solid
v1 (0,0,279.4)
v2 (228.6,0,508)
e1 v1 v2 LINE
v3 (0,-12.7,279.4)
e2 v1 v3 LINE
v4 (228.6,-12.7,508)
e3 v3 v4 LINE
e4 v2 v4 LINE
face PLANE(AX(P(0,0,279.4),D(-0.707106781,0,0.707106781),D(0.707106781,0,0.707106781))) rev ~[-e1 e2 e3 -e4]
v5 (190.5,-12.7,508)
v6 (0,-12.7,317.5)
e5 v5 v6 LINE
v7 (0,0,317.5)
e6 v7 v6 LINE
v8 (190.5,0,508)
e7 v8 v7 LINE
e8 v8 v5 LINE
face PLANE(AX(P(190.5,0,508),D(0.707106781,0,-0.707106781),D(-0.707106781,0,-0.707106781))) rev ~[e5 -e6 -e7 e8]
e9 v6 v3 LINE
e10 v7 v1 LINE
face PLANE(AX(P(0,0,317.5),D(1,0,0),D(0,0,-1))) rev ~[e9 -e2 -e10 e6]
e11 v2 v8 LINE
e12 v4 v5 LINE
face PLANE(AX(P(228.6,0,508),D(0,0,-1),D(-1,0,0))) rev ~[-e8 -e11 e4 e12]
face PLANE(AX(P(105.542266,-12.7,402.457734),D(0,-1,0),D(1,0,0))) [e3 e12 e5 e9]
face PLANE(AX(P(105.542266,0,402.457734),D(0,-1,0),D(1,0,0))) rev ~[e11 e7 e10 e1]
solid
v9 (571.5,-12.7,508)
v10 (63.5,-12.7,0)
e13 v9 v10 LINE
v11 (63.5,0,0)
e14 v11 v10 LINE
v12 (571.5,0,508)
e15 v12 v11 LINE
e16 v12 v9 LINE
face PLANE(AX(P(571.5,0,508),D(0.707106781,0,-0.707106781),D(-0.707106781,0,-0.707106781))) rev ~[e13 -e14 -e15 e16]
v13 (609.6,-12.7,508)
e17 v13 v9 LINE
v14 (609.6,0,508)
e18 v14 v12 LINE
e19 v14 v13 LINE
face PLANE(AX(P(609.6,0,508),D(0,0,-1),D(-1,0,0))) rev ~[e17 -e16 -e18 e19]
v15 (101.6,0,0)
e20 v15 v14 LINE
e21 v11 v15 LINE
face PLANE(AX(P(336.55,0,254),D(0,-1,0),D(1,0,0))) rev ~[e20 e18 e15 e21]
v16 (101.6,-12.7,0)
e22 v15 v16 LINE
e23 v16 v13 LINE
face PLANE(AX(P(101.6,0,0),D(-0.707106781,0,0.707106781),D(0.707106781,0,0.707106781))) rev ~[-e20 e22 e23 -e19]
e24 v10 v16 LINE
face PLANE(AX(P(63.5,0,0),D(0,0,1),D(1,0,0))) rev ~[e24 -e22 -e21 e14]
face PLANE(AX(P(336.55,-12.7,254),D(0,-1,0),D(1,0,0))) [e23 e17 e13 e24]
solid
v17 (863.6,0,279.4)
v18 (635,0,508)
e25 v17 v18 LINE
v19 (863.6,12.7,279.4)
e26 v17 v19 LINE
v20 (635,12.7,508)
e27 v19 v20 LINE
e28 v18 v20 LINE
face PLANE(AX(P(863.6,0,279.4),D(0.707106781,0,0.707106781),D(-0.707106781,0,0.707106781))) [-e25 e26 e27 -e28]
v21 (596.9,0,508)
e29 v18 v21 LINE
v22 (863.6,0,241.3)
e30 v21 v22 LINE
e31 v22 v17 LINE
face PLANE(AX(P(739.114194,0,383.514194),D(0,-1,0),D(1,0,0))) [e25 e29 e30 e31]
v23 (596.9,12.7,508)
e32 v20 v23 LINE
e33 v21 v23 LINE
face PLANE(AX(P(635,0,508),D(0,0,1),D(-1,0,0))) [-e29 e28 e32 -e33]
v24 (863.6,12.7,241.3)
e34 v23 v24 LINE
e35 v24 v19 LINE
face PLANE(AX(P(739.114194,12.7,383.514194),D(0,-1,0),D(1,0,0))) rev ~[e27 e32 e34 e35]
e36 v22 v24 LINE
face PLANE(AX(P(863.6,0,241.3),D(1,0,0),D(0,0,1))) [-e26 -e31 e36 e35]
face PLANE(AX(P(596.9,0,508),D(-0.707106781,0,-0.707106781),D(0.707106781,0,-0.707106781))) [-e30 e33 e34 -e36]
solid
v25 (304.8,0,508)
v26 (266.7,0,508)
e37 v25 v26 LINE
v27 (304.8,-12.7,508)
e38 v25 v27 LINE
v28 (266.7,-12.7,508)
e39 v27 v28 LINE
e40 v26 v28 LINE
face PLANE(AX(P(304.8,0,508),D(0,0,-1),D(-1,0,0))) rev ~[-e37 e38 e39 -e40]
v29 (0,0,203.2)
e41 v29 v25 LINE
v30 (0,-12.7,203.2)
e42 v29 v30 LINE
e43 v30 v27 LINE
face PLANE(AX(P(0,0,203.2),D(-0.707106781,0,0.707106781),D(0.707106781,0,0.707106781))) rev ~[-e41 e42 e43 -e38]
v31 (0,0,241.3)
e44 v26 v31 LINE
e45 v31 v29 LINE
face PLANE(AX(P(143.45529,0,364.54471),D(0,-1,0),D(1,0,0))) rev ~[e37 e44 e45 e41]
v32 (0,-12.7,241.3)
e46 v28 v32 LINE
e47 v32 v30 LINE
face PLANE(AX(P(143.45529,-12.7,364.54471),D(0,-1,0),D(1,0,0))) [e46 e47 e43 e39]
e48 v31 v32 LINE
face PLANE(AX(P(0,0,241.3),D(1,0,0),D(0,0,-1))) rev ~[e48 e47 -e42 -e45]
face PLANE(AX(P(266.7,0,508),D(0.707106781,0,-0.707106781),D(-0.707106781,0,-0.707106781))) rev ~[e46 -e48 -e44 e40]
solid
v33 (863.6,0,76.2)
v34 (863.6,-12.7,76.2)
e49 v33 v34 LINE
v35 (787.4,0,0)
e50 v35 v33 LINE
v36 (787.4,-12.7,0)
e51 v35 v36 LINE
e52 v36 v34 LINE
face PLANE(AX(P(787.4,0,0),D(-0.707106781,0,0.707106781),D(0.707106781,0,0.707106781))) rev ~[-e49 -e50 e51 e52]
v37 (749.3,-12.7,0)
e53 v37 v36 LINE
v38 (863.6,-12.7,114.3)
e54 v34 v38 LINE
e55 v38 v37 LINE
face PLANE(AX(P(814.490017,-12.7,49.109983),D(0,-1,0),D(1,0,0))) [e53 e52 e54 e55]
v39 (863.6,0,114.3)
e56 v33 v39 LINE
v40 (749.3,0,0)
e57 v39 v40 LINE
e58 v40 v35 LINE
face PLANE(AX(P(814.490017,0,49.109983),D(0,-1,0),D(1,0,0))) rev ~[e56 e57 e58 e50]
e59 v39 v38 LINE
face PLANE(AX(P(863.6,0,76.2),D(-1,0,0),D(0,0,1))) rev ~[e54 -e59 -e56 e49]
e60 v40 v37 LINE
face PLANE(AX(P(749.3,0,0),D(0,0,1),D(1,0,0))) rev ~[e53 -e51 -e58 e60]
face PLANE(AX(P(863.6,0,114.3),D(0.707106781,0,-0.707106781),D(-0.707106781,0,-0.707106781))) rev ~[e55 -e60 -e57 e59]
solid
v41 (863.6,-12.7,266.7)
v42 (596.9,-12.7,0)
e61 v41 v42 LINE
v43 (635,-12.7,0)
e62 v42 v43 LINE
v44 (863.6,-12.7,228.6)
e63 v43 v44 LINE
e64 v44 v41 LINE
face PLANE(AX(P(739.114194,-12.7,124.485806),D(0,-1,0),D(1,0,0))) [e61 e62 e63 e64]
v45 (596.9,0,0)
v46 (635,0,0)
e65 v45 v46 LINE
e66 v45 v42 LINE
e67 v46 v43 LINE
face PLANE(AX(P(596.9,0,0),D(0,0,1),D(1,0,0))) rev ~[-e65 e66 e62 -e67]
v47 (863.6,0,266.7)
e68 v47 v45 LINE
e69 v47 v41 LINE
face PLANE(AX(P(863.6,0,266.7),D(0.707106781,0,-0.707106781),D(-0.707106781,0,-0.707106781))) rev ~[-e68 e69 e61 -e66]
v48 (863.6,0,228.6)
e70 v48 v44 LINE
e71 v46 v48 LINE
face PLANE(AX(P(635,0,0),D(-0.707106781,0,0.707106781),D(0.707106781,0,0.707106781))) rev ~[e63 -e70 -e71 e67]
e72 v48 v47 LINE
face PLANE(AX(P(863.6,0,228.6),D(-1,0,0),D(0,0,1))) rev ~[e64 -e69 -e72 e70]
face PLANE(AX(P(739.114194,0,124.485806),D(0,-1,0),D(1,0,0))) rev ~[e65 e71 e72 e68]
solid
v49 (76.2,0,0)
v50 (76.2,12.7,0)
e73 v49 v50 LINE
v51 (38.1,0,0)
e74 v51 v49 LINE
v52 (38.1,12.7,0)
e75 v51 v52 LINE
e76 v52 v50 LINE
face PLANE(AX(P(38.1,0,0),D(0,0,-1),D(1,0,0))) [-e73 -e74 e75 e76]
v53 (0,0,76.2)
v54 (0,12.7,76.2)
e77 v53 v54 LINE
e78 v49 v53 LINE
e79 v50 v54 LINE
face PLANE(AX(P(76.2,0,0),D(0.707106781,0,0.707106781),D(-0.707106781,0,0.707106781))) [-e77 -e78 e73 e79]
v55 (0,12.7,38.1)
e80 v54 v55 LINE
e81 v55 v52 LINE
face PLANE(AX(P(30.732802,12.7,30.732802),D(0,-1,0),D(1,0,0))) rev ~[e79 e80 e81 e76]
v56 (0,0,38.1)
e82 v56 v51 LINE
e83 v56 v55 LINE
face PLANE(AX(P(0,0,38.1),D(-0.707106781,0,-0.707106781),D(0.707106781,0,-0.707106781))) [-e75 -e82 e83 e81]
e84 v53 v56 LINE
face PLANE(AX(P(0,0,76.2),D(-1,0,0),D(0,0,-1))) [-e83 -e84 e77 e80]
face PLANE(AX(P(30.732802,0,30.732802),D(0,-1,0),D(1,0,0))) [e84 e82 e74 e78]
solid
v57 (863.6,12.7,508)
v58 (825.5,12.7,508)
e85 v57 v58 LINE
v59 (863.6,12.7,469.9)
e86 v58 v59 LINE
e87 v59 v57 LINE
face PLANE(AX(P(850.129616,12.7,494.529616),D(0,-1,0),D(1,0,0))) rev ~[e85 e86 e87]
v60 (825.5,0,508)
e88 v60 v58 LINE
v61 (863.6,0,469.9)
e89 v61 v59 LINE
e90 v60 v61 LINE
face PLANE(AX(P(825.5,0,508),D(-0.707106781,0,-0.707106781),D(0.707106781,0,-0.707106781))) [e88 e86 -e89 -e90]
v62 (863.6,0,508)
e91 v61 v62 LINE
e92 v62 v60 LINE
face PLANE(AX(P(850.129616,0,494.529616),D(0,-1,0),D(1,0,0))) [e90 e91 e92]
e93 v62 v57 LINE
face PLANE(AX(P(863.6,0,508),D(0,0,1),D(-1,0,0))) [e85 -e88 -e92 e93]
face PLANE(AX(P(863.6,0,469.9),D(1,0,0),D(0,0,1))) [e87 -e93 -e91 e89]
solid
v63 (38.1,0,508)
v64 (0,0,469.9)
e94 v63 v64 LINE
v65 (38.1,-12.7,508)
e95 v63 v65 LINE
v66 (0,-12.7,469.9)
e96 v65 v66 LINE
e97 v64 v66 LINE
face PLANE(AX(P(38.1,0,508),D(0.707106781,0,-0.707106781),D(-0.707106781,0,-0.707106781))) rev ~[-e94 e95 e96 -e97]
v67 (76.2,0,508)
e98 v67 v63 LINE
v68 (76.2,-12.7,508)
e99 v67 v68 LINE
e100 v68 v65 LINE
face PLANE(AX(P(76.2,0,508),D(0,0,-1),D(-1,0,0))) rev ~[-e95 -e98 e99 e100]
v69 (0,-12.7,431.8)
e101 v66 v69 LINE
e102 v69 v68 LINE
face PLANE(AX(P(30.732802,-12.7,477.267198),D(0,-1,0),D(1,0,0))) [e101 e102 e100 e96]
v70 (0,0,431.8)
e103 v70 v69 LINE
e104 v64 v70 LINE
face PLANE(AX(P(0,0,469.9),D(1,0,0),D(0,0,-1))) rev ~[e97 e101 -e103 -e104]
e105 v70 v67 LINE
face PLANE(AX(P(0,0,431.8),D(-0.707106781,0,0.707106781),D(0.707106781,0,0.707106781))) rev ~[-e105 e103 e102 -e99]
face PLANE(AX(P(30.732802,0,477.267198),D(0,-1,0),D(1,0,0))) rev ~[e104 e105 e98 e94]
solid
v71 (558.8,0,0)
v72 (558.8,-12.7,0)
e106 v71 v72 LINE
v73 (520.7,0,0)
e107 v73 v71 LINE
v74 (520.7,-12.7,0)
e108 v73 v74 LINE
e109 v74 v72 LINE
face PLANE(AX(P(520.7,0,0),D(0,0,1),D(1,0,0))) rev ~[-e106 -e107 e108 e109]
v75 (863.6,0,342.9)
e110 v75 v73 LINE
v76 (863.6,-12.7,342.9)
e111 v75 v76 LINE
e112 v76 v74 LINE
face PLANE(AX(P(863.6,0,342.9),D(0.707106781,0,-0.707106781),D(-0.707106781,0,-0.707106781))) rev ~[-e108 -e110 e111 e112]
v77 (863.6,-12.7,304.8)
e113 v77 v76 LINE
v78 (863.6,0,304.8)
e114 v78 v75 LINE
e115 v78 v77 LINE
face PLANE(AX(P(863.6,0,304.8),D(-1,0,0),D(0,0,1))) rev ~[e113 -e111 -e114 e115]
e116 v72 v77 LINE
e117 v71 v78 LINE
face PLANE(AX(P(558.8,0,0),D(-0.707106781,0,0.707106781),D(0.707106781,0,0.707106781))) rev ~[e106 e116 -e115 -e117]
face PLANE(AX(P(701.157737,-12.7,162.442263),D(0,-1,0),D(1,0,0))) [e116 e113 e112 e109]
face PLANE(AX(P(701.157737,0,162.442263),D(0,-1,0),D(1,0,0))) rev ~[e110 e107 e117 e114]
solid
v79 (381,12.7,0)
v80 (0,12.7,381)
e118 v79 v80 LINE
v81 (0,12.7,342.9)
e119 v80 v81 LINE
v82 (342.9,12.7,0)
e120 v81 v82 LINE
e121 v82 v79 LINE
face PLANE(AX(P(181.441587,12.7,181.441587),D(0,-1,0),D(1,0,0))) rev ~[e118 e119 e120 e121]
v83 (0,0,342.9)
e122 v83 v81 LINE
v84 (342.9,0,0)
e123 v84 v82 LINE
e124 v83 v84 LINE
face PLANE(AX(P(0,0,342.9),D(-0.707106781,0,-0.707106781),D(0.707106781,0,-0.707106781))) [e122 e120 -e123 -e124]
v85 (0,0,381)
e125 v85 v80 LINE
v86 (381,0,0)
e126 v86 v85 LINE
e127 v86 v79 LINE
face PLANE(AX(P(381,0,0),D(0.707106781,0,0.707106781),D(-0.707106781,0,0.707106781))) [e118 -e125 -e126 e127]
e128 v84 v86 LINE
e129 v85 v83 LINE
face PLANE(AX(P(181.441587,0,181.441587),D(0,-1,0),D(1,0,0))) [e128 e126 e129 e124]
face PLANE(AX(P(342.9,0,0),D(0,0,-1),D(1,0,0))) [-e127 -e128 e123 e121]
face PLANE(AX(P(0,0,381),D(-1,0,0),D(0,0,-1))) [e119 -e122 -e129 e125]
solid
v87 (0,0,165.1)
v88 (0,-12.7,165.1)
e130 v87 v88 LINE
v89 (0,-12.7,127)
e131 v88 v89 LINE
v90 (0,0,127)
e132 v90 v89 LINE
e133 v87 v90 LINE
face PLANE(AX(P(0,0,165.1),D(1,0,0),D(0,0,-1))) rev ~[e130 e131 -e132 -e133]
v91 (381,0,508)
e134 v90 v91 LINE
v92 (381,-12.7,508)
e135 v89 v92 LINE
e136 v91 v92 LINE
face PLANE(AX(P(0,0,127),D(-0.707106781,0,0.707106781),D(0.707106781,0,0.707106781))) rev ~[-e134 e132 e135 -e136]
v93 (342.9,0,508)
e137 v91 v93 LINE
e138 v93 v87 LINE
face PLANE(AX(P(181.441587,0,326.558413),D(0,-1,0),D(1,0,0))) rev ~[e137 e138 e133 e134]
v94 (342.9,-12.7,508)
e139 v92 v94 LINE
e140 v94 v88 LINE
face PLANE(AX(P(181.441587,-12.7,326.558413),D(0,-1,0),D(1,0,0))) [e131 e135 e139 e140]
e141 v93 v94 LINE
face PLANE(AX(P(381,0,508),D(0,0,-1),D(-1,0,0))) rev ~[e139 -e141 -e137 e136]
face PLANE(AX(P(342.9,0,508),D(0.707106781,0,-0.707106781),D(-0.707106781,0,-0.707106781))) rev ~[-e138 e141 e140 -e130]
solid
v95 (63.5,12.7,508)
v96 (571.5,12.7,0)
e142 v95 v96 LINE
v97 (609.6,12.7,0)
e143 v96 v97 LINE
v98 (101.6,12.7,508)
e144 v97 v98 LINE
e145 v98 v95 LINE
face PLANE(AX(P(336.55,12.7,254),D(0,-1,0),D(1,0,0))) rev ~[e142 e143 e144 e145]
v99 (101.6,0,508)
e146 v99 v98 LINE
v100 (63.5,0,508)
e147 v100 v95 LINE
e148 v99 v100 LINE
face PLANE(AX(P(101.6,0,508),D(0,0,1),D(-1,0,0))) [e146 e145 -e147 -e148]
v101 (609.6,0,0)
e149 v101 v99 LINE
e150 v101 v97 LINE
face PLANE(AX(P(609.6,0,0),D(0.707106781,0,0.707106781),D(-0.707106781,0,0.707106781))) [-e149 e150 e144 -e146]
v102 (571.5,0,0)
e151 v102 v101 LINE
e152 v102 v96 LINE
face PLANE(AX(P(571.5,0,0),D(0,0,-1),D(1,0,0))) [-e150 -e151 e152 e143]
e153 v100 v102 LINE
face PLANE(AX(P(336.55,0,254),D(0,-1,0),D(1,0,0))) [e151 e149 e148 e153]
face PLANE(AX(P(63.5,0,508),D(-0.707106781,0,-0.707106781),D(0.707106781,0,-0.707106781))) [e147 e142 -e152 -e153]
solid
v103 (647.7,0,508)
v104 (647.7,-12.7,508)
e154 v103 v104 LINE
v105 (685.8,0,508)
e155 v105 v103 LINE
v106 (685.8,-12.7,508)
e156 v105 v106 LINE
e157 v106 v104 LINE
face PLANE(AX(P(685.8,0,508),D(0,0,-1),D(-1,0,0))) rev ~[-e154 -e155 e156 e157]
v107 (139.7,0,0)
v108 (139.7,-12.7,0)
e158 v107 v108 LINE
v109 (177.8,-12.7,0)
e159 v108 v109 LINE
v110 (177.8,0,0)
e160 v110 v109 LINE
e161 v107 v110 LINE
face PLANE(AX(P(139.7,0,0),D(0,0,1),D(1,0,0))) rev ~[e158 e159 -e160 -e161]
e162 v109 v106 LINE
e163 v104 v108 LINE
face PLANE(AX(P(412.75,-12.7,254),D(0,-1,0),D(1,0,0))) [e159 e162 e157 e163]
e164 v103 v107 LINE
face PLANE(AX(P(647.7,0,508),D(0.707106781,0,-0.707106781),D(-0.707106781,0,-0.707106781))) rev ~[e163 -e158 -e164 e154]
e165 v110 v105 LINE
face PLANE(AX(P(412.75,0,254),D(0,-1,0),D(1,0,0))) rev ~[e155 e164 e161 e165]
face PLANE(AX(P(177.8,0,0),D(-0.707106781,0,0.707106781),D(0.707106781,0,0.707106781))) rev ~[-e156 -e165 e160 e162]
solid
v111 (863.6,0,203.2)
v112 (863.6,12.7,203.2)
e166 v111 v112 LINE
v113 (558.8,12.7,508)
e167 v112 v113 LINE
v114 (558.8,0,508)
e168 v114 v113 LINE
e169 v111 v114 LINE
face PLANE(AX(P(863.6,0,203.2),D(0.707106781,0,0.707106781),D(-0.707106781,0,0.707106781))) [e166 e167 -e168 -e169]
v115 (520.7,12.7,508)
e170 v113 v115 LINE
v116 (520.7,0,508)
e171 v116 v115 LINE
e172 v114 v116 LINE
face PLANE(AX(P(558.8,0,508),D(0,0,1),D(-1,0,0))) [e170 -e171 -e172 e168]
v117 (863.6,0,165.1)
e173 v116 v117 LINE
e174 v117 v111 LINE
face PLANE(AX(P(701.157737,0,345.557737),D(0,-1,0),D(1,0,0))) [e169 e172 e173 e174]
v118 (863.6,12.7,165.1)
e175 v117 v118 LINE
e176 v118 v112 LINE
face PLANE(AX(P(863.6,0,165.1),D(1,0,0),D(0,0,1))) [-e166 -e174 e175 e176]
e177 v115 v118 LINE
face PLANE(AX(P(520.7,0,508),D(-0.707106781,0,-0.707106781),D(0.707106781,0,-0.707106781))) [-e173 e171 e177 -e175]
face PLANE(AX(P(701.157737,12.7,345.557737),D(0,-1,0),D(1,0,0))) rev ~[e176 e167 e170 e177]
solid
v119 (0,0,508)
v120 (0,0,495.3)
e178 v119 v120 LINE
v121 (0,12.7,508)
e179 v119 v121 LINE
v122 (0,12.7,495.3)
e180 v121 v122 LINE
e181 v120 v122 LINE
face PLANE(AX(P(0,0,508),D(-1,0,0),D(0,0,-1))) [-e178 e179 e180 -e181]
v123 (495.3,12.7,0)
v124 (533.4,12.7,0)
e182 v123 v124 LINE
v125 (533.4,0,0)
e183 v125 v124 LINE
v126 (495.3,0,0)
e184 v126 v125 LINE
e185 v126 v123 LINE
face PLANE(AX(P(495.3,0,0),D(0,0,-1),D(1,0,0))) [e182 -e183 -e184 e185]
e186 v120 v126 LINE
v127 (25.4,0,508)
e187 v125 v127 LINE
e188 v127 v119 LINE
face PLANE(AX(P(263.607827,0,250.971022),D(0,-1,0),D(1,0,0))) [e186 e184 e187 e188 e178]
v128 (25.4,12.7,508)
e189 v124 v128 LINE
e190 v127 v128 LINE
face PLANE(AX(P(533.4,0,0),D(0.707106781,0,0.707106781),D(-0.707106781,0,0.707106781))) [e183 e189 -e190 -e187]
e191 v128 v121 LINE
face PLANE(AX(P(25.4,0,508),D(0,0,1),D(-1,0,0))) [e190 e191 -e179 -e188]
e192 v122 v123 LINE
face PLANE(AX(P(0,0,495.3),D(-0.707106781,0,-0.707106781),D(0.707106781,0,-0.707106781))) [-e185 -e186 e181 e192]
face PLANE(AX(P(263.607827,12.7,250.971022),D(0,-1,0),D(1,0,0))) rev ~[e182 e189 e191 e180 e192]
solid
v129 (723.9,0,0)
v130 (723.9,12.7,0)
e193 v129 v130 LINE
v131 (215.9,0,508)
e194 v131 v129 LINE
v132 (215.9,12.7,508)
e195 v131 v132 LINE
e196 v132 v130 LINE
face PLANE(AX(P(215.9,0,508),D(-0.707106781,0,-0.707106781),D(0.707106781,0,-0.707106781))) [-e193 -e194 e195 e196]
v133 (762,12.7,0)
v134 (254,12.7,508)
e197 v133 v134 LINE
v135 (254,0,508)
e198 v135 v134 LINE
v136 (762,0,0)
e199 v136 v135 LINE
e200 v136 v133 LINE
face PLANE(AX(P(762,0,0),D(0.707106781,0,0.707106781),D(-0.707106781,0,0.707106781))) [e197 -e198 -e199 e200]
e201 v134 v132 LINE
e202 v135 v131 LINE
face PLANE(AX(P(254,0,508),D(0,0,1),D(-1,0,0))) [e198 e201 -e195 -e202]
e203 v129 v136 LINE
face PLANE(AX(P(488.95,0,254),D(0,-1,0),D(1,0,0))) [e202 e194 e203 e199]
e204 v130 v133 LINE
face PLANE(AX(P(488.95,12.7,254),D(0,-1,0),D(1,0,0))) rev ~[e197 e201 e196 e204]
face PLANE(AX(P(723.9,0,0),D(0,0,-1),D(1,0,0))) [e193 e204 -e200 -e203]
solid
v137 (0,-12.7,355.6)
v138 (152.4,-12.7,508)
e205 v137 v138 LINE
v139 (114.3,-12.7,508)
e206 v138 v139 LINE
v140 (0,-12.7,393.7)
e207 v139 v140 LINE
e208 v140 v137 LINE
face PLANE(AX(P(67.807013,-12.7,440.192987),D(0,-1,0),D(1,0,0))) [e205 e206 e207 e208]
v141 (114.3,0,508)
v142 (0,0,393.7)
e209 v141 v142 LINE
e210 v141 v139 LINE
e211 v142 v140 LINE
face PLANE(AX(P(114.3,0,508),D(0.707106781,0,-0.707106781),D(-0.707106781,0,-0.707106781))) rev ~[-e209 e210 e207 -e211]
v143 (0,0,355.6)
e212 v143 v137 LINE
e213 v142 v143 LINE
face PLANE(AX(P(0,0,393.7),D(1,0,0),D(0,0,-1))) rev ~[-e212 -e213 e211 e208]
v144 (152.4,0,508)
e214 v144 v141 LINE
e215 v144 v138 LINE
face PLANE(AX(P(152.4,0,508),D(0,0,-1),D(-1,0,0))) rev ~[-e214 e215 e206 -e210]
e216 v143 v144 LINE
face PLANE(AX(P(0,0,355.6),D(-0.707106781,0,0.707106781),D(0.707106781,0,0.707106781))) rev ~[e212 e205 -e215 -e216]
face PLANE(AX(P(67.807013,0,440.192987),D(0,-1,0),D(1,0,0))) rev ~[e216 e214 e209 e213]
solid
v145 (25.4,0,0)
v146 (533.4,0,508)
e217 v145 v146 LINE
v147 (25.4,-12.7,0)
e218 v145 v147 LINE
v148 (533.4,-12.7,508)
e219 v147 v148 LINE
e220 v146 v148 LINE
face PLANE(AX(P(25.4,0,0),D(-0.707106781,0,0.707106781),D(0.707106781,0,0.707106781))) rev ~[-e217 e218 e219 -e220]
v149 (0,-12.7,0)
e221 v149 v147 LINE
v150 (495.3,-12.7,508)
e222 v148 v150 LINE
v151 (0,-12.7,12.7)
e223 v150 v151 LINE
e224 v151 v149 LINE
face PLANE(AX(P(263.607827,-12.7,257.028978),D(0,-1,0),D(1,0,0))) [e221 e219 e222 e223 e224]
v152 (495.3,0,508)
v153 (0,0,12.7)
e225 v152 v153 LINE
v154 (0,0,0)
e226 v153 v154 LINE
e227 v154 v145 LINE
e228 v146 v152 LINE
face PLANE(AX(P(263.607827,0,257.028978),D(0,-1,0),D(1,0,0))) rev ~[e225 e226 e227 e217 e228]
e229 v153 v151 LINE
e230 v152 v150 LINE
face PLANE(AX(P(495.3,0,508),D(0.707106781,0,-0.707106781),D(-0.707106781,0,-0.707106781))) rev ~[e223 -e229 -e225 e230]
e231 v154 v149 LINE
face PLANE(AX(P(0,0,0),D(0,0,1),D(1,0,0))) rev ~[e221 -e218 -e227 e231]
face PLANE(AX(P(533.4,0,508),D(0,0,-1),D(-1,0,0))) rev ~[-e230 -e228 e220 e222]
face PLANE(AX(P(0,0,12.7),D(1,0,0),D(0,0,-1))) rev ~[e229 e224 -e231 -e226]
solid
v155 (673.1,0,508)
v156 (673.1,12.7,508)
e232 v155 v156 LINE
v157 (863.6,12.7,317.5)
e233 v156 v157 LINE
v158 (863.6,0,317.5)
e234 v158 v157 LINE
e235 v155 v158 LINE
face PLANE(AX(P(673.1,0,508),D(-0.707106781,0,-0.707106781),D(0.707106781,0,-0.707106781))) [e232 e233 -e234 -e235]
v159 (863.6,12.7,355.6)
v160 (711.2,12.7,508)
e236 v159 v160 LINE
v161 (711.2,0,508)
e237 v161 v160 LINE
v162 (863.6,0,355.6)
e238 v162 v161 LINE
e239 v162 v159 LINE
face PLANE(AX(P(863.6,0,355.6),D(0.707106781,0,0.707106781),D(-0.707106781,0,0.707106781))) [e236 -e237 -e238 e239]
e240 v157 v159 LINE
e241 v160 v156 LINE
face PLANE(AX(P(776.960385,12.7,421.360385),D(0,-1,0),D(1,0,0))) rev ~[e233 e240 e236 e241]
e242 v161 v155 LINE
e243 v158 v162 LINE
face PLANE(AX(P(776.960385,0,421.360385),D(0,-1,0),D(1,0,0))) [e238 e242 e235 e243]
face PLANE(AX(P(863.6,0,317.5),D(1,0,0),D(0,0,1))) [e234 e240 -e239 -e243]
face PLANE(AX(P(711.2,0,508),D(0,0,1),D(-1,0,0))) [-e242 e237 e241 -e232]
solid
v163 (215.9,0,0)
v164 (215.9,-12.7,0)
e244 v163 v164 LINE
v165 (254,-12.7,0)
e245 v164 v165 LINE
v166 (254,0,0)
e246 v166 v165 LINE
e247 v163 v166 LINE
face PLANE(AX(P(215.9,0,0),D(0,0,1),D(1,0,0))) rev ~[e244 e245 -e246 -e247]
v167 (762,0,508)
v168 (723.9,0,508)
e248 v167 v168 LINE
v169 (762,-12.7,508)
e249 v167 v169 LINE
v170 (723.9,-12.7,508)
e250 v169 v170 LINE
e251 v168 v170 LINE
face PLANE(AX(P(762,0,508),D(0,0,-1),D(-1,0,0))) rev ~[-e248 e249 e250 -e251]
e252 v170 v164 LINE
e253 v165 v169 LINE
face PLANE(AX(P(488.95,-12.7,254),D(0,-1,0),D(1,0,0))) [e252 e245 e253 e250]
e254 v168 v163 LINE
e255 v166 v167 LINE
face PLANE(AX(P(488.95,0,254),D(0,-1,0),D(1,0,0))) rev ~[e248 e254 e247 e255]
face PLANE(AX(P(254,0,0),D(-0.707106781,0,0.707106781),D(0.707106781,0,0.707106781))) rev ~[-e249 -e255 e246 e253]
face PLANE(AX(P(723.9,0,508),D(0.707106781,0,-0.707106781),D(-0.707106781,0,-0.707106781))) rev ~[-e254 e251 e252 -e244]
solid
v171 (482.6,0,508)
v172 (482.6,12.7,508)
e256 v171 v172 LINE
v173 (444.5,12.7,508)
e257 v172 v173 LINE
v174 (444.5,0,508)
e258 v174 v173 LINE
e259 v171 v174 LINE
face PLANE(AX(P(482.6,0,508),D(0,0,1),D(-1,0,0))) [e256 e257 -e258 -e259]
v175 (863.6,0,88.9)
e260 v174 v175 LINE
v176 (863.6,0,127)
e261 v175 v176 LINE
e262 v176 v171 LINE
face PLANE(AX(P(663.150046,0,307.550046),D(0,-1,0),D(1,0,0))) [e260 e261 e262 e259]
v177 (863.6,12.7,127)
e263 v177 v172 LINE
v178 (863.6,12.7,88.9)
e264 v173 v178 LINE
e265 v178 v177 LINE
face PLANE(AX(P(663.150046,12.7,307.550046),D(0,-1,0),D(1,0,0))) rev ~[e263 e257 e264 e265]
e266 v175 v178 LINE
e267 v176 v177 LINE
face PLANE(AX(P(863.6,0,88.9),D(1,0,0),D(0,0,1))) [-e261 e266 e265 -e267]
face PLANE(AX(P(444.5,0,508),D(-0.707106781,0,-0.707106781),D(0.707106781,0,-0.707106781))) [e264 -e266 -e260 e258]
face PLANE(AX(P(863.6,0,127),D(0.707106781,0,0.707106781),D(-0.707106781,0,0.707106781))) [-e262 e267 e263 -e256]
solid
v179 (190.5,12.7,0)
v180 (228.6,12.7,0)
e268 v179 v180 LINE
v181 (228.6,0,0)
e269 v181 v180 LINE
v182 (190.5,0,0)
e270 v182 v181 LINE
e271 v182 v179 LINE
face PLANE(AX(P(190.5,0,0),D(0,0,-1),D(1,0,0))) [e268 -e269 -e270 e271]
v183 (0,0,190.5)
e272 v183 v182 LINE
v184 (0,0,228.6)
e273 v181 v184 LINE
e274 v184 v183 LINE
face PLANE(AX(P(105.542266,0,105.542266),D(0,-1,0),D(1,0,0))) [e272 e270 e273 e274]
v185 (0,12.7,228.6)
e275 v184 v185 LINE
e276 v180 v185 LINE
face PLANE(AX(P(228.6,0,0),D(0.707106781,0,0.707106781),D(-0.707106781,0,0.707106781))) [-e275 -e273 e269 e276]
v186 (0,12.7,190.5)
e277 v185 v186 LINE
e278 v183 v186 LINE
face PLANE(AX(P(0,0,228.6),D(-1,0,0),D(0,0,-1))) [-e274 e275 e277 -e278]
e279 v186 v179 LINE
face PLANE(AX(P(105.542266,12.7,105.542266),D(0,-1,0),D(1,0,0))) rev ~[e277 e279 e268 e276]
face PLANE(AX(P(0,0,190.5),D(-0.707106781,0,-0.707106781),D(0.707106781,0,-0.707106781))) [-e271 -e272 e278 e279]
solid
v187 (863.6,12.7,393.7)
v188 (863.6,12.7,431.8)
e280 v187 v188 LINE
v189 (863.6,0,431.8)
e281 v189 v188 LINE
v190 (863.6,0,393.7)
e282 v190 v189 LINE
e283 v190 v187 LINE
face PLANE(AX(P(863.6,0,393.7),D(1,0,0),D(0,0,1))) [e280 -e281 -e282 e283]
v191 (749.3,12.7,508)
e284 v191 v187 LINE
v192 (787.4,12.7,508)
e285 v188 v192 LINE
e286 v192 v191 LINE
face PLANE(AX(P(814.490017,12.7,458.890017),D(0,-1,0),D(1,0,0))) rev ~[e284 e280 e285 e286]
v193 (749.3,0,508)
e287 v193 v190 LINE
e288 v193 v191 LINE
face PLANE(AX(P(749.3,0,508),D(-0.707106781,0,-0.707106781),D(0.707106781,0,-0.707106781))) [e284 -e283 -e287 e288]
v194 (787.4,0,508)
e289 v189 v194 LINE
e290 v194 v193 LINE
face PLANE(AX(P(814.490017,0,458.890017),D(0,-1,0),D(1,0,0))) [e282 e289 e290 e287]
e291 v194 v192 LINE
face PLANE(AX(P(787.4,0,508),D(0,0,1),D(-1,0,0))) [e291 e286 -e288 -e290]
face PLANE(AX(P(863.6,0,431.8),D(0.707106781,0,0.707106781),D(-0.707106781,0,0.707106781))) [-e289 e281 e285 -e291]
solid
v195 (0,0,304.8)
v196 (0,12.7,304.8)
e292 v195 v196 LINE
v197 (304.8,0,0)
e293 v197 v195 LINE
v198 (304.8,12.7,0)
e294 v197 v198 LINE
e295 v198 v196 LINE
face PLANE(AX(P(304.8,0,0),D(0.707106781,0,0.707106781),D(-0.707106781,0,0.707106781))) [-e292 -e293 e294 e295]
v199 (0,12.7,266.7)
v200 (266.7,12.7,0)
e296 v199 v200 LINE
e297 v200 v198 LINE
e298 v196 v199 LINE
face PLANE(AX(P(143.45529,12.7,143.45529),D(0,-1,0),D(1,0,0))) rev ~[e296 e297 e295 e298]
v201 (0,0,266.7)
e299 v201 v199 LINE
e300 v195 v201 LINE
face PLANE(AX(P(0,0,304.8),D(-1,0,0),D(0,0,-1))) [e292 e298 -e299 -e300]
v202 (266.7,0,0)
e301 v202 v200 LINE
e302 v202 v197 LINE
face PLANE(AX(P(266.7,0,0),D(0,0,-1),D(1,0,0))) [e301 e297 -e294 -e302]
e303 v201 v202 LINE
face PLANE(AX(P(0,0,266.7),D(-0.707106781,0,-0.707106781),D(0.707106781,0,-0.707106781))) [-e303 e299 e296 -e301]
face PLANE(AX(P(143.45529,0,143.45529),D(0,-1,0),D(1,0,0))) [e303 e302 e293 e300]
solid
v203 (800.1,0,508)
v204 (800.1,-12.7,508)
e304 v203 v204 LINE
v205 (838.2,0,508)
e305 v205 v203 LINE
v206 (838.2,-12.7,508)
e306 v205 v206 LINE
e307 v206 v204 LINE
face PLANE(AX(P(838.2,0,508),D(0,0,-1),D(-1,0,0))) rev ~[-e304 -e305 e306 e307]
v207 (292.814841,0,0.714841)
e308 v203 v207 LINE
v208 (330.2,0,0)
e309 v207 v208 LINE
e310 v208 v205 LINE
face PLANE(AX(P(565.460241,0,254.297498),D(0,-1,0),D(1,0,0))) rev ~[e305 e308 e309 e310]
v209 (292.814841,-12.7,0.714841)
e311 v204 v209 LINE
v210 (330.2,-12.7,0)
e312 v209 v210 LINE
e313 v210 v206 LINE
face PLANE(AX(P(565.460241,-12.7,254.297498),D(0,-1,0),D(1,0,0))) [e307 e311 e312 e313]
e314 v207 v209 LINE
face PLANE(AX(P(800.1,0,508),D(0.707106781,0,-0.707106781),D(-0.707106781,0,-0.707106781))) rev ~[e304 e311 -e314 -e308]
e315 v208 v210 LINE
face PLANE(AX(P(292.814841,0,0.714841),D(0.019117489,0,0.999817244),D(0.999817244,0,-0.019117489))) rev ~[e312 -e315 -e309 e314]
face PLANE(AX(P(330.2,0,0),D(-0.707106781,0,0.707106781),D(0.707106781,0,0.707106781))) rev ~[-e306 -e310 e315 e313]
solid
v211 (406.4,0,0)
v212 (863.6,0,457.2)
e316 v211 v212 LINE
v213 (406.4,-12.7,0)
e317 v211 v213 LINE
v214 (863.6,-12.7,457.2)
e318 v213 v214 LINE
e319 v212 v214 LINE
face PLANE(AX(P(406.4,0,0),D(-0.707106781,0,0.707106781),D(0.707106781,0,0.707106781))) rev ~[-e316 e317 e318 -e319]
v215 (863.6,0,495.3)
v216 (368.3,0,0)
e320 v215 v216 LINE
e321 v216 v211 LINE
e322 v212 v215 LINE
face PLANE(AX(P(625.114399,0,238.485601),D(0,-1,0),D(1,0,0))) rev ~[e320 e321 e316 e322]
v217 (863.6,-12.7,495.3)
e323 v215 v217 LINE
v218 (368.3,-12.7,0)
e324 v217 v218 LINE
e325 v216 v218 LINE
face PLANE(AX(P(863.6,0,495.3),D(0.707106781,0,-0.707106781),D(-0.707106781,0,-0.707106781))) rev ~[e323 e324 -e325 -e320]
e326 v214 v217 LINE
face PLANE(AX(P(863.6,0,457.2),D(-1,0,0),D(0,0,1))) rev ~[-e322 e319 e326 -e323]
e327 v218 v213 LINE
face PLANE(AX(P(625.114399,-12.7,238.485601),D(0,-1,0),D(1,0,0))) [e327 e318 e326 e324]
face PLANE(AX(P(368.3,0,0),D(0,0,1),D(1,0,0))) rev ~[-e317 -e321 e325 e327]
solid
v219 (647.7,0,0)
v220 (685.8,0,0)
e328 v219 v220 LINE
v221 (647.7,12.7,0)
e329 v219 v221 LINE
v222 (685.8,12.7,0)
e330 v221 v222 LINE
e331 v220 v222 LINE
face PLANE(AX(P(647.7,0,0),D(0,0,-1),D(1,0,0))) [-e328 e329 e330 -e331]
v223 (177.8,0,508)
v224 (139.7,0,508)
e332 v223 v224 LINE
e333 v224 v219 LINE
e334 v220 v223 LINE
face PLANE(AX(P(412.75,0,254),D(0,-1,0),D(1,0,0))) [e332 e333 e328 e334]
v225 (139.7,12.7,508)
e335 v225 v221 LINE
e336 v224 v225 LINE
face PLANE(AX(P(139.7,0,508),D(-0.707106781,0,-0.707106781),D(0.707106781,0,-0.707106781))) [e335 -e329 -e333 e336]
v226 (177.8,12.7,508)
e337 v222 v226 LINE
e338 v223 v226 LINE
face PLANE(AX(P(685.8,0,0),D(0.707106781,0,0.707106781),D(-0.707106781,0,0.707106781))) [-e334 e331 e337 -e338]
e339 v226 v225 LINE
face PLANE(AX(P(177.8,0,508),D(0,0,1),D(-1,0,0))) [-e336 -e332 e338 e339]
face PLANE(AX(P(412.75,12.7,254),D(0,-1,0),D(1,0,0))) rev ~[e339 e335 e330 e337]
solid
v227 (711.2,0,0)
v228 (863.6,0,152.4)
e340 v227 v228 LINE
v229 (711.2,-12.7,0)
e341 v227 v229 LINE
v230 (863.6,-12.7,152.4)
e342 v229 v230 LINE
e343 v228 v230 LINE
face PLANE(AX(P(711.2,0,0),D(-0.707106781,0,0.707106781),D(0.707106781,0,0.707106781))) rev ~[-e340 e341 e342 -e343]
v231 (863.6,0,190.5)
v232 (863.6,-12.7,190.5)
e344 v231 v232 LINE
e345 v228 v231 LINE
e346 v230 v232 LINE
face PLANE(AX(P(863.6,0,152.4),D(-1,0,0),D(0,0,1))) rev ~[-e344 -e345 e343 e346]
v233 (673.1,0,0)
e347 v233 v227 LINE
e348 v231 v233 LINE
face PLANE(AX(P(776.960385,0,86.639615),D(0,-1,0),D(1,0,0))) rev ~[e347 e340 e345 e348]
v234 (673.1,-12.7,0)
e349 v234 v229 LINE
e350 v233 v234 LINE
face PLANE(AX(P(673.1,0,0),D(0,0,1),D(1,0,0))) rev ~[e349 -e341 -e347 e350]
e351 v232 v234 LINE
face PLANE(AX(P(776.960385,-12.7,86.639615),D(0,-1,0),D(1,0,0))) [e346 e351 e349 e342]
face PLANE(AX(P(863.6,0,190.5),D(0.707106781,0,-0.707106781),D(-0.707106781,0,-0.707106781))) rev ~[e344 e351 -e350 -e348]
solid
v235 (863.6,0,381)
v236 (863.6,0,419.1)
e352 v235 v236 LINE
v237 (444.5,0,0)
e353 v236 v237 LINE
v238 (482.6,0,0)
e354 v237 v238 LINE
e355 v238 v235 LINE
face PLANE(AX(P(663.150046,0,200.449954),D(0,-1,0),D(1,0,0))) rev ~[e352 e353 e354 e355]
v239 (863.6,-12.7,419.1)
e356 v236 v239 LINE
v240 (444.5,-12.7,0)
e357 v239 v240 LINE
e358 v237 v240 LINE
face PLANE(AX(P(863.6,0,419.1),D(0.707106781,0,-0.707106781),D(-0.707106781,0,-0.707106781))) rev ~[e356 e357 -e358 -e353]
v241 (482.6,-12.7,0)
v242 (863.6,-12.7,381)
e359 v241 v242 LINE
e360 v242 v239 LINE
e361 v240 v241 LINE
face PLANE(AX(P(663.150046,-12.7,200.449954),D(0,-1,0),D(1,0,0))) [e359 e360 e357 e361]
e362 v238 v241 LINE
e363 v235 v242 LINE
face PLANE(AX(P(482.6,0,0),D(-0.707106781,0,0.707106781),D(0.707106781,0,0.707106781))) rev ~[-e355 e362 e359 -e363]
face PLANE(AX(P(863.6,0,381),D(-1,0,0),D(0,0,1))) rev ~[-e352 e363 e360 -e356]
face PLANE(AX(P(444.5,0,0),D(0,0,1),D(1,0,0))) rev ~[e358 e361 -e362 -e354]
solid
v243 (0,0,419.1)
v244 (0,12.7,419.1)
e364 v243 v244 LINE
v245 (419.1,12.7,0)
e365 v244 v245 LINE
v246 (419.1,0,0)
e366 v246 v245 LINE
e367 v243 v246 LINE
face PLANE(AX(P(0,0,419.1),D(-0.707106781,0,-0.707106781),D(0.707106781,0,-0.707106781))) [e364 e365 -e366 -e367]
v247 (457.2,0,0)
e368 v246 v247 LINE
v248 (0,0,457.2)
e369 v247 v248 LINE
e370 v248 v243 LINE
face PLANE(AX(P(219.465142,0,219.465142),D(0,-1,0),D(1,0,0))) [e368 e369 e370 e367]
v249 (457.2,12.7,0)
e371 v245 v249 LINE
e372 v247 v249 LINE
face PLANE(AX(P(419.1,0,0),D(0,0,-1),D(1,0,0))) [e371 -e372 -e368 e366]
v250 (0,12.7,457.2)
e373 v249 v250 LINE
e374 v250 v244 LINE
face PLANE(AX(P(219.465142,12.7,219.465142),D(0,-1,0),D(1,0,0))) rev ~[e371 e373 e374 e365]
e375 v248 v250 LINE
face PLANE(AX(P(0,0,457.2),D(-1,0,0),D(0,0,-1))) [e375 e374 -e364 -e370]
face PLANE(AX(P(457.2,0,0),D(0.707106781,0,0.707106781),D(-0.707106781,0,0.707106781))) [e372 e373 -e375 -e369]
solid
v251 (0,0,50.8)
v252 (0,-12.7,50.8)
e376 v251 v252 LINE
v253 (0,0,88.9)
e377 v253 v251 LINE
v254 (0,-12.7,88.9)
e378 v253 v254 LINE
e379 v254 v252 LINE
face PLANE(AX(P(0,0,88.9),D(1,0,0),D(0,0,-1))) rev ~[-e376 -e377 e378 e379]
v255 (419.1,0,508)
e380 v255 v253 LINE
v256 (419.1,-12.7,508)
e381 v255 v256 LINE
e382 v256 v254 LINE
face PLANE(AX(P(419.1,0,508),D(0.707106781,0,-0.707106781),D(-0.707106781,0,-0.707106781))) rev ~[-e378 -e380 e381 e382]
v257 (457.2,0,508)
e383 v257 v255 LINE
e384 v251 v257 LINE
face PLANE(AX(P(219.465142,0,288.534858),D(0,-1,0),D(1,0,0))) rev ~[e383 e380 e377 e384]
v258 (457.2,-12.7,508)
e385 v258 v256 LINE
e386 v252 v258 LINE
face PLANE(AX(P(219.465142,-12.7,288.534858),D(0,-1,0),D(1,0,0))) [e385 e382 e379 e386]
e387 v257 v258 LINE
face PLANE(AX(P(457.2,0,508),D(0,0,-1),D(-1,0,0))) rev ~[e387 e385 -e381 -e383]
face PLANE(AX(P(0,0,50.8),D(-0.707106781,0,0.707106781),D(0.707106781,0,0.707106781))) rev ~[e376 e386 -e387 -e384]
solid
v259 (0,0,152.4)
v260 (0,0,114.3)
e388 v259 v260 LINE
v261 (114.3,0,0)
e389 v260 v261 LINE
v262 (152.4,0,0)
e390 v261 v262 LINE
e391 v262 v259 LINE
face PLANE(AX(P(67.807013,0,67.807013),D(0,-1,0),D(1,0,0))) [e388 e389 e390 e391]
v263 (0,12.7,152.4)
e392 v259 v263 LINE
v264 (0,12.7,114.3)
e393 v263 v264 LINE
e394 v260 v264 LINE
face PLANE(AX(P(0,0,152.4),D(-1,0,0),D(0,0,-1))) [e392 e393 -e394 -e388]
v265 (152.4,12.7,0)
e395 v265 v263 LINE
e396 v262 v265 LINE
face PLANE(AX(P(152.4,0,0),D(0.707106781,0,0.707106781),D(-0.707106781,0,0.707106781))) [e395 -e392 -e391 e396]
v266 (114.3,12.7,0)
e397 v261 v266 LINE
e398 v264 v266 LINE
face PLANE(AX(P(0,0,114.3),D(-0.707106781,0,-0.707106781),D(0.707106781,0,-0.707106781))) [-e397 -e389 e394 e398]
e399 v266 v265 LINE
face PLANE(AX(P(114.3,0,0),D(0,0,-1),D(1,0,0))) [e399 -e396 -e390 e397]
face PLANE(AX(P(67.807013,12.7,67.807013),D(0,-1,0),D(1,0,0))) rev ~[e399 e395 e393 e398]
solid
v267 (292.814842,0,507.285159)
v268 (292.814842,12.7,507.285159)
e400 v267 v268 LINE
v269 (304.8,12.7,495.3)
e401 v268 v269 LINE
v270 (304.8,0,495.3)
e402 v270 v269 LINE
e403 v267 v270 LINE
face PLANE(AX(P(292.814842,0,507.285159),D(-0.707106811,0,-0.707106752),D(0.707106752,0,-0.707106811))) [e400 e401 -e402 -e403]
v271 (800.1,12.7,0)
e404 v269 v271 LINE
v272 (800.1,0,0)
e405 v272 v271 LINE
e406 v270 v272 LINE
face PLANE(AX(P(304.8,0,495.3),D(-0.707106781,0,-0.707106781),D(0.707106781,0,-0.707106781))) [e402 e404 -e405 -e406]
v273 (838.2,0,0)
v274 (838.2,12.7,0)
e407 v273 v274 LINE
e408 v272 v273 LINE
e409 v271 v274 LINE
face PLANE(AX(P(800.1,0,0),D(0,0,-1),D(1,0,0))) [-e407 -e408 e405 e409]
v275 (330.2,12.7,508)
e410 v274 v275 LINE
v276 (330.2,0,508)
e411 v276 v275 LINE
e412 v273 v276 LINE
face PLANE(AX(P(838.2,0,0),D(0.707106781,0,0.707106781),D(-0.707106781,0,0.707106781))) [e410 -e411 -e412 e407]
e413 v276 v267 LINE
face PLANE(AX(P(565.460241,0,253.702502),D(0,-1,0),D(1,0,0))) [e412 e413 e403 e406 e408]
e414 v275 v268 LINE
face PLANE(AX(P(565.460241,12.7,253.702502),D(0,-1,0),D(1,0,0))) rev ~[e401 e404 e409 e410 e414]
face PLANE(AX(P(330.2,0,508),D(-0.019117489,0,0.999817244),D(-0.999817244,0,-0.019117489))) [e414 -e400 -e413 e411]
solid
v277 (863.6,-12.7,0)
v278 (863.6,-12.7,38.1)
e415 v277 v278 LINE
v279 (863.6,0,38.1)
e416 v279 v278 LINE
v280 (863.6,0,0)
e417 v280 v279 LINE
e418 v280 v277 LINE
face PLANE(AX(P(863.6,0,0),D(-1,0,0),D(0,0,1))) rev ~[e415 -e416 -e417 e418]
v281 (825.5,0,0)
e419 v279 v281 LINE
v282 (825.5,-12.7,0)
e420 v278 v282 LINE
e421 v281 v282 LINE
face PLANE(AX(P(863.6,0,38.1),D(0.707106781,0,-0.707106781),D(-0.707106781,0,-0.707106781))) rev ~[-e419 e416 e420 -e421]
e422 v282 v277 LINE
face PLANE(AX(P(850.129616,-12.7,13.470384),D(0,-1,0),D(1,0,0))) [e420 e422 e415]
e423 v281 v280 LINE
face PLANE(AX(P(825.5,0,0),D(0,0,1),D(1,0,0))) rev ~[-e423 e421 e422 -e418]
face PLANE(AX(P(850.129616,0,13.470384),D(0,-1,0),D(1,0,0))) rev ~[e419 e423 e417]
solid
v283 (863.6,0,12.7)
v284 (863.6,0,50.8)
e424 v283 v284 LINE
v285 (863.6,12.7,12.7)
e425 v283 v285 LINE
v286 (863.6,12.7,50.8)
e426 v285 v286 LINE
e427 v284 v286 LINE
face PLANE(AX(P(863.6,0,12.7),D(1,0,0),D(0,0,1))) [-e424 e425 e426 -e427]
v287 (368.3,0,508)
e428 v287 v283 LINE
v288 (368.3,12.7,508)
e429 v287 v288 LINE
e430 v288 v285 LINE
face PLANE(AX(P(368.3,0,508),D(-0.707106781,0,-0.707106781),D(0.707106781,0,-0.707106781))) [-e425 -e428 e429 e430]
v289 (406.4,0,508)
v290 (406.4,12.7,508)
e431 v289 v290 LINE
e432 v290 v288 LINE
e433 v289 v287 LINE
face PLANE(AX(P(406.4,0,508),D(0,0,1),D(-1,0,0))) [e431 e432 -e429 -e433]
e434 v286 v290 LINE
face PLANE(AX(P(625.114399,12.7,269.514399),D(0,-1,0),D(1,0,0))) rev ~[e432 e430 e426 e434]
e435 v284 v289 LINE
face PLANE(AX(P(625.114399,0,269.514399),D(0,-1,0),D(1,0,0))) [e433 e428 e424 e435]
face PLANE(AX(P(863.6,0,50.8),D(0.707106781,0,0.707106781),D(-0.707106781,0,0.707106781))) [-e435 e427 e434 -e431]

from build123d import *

# Parameters (mm, degrees)
F1_DEPTH = 12.7
F3_DEPTH = 12.7


with BuildPart() as f1:
    # F0 (on Front) → F1 (new body)
    with BuildSketch(Plane.XZ):
        Polygon((0, 12.7), (0, 0), (25.4, 0), (38.1, 12.7), (190.5, 165.1), (381, 355.6), (419.1, 393.7), (533.4, 508), (495.3, 508), (381, 393.7), (190.5, 203.2), align=None)
        Polygon((76.2, 508), (38.1, 508), (0, 469.9), (0, 431.8), align=None)
        Polygon((0, 355.6), (38.1, 393.7), (152.4, 508), (114.3, 508), (0, 393.7), align=None)
        Polygon((0, 317.5), (0, 279.4), (190.5, 469.9), (228.6, 508), (190.5, 508), align=None)
        Polygon((0, 241.3), (0, 203.2), (190.5, 393.7), (304.8, 508), (266.7, 508), (190.5, 431.8), align=None)
        Polygon((0, 165.1), (0, 127), (190.5, 317.5), (381, 508), (342.9, 508), (228.6, 393.7), (190.5, 355.6), align=None)
        Polygon((0, 88.9), (0, 50.8), (190.5, 241.3), (381, 431.8), (457.2, 508), (419.1, 508), (381, 469.9), (190.5, 279.4), align=None)
        Polygon((190.5, 127), (76.2, 12.7), (63.5, 0), (101.6, 0), (114.3, 12.7), (190.5, 88.9), (381, 279.4), (571.5, 469.9), (609.6, 508), (571.5, 508), (381, 317.5), align=None)
        Polygon((190.5, 50.8), (152.4, 12.7), (139.7, 0), (177.8, 0), (190.5, 12.7), (381, 203.2), (571.5, 393.7), (685.8, 508), (647.7, 508), (571.5, 431.8), (381, 241.3), align=None)
        Polygon((571.5, 355.6), (381, 165.1), (228.6, 12.7), (215.9, 0), (254, 0), (266.7, 12.7), (381, 127), (571.5, 317.5), (762, 508), (723.9, 508), (609.6, 393.7), align=None)
        Polygon((330.2, 0), (342.9, 12.7), (381, 50.8), (571.5, 241.3), (762, 431.8), (838.2, 508), (800.1, 508), (762, 469.9), (571.5, 279.4), (381, 88.9), (304.8, 12.7), (292.814841, 0.714841), align=None)
        Polygon((571.5, 203.2), (381, 12.7), (368.3, 0), (381, 0), (406.4, 0), (419.1, 12.7), (571.5, 165.1), (762, 355.6), (800.1, 393.7), (863.6, 457.2), (863.6, 495.3), (762, 393.7), align=None)
        Polygon((571.5, 127), (457.2, 12.7), (444.5, 0), (482.6, 0), (495.3, 12.7), (571.5, 88.9), (762, 279.4), (863.6, 381), (863.6, 419.1), (762, 317.5), align=None)
        Polygon((571.5, 50.8), (533.4, 12.7), (520.7, 0), (558.8, 0), (571.5, 12.7), (762, 203.2), (863.6, 304.8), (863.6, 342.9), (762, 241.3), align=None)
        Polygon((863.6, 266.7), (762, 165.1), (609.6, 12.7), (596.9, 0), (635, 0), (647.7, 12.7), (762, 127), (863.6, 228.6), align=None)
        Polygon((711.2, 0), (723.9, 12.7), (762, 50.8), (863.6, 152.4), (863.6, 190.5), (762, 88.9), (685.8, 12.7), (673.1, 0), align=None)
        Polygon((863.6, 114.3), (762, 12.7), (749.3, 0), (762, 0), (787.4, 0), (800.1, 12.7), (863.6, 76.2), align=None)
        Polygon((863.6, 38.1), (838.2, 12.7), (825.5, 0), (863.6, 0), align=None)
    extrude(amount=F1_DEPTH)


with BuildPart() as f3:
    # F2 (on Front) → F3 (new body)
    with BuildSketch(Plane.XZ):
        Polygon((177.8, 508), (139.7, 508), (152.4, 495.3), (190.5, 457.2), (381, 266.7), (571.5, 76.2), (647.7, 0), (685.8, 0), (571.5, 114.3), (381, 304.8), (190.5, 495.3), align=None)
        Polygon((101.6, 508), (63.5, 508), (76.2, 495.3), (190.5, 381), (381, 190.5), (571.5, 0), (609.6, 0), (571.5, 38.1), (381, 228.6), (190.5, 419.1), (114.3, 495.3), align=None)
        Polygon((25.4, 508), (0, 508), (0, 495.3), (190.5, 304.8), (381, 114.3), (495.3, 0), (533.4, 0), (419.1, 114.3), (381, 152.4), (190.5, 342.9), (38.1, 495.3), align=None)
        Polygon((673.1, 508), (685.8, 495.3), (762, 419.1), (863.6, 317.5), (863.6, 355.6), (762, 457.2), (723.9, 495.3), (711.2, 508), align=None)
        Polygon((406.4, 508), (381, 508), (368.3, 508), (381, 495.3), (571.5, 304.8), (762, 114.3), (863.6, 12.7), (863.6, 50.8), (800.1, 114.3), (762, 152.4), (571.5, 342.9), (419.1, 495.3), align=None)
        Polygon((444.5, 508), (457.2, 495.3), (571.5, 381), (762, 190.5), (863.6, 88.9), (863.6, 127), (762, 228.6), (571.5, 419.1), (495.3, 495.3), (482.6, 508), align=None)
        Polygon((787.4, 508), (762, 508), (749.3, 508), (762, 495.3), (863.6, 393.7), (863.6, 431.8), (800.1, 495.3), align=None)
        Polygon((635, 508), (596.9, 508), (609.6, 495.3), (762, 342.9), (863.6, 241.3), (863.6, 279.4), (762, 381), (647.7, 495.3), align=None)
        Polygon((825.5, 508), (838.2, 495.3), (863.6, 469.9), (863.6, 508), align=None)
        Polygon((520.7, 508), (533.4, 495.3), (571.5, 457.2), (762, 266.7), (863.6, 165.1), (863.6, 203.2), (762, 304.8), (571.5, 495.3), (558.8, 508), align=None)
        Polygon((381, 381), (266.7, 495.3), (254, 508), (215.9, 508), (228.6, 495.3), (381, 342.9), (571.5, 152.4), (609.6, 114.3), (723.9, 0), (762, 0), (571.5, 190.5), align=None)
        Polygon((381, 457.2), (342.9, 495.3), (330.2, 508), (292.814842, 507.285159), (304.8, 495.3), (381, 419.1), (571.5, 228.6), (762, 38.1), (800.1, 0), (838.2, 0), (762, 76.2), (571.5, 266.7), align=None)
        Polygon((381, 38.1), (419.1, 0), (457.2, 0), (381, 76.2), (190.5, 266.7), (0, 457.2), (0, 419.1), (190.5, 228.6), align=None)
        Polygon((0, 228.6), (0, 190.5), (190.5, 0), (228.6, 0), (190.5, 38.1), align=None)
        Polygon((190.5, 190.5), (0, 381), (0, 342.9), (190.5, 152.4), (228.6, 114.3), (342.9, 0), (381, 0), align=None)
        Polygon((190.5, 114.3), (0, 304.8), (0, 266.7), (190.5, 76.2), (266.7, 0), (304.8, 0), align=None)
        Polygon((38.1, 114.3), (0, 152.4), (0, 114.3), (114.3, 0), (152.4, 0), align=None)
        Polygon((0, 38.1), (38.1, 0), (76.2, 0), (0, 76.2), align=None)
    extrude(amount=-F3_DEPTH)


solid = Compound([f1.part, f3.part])
